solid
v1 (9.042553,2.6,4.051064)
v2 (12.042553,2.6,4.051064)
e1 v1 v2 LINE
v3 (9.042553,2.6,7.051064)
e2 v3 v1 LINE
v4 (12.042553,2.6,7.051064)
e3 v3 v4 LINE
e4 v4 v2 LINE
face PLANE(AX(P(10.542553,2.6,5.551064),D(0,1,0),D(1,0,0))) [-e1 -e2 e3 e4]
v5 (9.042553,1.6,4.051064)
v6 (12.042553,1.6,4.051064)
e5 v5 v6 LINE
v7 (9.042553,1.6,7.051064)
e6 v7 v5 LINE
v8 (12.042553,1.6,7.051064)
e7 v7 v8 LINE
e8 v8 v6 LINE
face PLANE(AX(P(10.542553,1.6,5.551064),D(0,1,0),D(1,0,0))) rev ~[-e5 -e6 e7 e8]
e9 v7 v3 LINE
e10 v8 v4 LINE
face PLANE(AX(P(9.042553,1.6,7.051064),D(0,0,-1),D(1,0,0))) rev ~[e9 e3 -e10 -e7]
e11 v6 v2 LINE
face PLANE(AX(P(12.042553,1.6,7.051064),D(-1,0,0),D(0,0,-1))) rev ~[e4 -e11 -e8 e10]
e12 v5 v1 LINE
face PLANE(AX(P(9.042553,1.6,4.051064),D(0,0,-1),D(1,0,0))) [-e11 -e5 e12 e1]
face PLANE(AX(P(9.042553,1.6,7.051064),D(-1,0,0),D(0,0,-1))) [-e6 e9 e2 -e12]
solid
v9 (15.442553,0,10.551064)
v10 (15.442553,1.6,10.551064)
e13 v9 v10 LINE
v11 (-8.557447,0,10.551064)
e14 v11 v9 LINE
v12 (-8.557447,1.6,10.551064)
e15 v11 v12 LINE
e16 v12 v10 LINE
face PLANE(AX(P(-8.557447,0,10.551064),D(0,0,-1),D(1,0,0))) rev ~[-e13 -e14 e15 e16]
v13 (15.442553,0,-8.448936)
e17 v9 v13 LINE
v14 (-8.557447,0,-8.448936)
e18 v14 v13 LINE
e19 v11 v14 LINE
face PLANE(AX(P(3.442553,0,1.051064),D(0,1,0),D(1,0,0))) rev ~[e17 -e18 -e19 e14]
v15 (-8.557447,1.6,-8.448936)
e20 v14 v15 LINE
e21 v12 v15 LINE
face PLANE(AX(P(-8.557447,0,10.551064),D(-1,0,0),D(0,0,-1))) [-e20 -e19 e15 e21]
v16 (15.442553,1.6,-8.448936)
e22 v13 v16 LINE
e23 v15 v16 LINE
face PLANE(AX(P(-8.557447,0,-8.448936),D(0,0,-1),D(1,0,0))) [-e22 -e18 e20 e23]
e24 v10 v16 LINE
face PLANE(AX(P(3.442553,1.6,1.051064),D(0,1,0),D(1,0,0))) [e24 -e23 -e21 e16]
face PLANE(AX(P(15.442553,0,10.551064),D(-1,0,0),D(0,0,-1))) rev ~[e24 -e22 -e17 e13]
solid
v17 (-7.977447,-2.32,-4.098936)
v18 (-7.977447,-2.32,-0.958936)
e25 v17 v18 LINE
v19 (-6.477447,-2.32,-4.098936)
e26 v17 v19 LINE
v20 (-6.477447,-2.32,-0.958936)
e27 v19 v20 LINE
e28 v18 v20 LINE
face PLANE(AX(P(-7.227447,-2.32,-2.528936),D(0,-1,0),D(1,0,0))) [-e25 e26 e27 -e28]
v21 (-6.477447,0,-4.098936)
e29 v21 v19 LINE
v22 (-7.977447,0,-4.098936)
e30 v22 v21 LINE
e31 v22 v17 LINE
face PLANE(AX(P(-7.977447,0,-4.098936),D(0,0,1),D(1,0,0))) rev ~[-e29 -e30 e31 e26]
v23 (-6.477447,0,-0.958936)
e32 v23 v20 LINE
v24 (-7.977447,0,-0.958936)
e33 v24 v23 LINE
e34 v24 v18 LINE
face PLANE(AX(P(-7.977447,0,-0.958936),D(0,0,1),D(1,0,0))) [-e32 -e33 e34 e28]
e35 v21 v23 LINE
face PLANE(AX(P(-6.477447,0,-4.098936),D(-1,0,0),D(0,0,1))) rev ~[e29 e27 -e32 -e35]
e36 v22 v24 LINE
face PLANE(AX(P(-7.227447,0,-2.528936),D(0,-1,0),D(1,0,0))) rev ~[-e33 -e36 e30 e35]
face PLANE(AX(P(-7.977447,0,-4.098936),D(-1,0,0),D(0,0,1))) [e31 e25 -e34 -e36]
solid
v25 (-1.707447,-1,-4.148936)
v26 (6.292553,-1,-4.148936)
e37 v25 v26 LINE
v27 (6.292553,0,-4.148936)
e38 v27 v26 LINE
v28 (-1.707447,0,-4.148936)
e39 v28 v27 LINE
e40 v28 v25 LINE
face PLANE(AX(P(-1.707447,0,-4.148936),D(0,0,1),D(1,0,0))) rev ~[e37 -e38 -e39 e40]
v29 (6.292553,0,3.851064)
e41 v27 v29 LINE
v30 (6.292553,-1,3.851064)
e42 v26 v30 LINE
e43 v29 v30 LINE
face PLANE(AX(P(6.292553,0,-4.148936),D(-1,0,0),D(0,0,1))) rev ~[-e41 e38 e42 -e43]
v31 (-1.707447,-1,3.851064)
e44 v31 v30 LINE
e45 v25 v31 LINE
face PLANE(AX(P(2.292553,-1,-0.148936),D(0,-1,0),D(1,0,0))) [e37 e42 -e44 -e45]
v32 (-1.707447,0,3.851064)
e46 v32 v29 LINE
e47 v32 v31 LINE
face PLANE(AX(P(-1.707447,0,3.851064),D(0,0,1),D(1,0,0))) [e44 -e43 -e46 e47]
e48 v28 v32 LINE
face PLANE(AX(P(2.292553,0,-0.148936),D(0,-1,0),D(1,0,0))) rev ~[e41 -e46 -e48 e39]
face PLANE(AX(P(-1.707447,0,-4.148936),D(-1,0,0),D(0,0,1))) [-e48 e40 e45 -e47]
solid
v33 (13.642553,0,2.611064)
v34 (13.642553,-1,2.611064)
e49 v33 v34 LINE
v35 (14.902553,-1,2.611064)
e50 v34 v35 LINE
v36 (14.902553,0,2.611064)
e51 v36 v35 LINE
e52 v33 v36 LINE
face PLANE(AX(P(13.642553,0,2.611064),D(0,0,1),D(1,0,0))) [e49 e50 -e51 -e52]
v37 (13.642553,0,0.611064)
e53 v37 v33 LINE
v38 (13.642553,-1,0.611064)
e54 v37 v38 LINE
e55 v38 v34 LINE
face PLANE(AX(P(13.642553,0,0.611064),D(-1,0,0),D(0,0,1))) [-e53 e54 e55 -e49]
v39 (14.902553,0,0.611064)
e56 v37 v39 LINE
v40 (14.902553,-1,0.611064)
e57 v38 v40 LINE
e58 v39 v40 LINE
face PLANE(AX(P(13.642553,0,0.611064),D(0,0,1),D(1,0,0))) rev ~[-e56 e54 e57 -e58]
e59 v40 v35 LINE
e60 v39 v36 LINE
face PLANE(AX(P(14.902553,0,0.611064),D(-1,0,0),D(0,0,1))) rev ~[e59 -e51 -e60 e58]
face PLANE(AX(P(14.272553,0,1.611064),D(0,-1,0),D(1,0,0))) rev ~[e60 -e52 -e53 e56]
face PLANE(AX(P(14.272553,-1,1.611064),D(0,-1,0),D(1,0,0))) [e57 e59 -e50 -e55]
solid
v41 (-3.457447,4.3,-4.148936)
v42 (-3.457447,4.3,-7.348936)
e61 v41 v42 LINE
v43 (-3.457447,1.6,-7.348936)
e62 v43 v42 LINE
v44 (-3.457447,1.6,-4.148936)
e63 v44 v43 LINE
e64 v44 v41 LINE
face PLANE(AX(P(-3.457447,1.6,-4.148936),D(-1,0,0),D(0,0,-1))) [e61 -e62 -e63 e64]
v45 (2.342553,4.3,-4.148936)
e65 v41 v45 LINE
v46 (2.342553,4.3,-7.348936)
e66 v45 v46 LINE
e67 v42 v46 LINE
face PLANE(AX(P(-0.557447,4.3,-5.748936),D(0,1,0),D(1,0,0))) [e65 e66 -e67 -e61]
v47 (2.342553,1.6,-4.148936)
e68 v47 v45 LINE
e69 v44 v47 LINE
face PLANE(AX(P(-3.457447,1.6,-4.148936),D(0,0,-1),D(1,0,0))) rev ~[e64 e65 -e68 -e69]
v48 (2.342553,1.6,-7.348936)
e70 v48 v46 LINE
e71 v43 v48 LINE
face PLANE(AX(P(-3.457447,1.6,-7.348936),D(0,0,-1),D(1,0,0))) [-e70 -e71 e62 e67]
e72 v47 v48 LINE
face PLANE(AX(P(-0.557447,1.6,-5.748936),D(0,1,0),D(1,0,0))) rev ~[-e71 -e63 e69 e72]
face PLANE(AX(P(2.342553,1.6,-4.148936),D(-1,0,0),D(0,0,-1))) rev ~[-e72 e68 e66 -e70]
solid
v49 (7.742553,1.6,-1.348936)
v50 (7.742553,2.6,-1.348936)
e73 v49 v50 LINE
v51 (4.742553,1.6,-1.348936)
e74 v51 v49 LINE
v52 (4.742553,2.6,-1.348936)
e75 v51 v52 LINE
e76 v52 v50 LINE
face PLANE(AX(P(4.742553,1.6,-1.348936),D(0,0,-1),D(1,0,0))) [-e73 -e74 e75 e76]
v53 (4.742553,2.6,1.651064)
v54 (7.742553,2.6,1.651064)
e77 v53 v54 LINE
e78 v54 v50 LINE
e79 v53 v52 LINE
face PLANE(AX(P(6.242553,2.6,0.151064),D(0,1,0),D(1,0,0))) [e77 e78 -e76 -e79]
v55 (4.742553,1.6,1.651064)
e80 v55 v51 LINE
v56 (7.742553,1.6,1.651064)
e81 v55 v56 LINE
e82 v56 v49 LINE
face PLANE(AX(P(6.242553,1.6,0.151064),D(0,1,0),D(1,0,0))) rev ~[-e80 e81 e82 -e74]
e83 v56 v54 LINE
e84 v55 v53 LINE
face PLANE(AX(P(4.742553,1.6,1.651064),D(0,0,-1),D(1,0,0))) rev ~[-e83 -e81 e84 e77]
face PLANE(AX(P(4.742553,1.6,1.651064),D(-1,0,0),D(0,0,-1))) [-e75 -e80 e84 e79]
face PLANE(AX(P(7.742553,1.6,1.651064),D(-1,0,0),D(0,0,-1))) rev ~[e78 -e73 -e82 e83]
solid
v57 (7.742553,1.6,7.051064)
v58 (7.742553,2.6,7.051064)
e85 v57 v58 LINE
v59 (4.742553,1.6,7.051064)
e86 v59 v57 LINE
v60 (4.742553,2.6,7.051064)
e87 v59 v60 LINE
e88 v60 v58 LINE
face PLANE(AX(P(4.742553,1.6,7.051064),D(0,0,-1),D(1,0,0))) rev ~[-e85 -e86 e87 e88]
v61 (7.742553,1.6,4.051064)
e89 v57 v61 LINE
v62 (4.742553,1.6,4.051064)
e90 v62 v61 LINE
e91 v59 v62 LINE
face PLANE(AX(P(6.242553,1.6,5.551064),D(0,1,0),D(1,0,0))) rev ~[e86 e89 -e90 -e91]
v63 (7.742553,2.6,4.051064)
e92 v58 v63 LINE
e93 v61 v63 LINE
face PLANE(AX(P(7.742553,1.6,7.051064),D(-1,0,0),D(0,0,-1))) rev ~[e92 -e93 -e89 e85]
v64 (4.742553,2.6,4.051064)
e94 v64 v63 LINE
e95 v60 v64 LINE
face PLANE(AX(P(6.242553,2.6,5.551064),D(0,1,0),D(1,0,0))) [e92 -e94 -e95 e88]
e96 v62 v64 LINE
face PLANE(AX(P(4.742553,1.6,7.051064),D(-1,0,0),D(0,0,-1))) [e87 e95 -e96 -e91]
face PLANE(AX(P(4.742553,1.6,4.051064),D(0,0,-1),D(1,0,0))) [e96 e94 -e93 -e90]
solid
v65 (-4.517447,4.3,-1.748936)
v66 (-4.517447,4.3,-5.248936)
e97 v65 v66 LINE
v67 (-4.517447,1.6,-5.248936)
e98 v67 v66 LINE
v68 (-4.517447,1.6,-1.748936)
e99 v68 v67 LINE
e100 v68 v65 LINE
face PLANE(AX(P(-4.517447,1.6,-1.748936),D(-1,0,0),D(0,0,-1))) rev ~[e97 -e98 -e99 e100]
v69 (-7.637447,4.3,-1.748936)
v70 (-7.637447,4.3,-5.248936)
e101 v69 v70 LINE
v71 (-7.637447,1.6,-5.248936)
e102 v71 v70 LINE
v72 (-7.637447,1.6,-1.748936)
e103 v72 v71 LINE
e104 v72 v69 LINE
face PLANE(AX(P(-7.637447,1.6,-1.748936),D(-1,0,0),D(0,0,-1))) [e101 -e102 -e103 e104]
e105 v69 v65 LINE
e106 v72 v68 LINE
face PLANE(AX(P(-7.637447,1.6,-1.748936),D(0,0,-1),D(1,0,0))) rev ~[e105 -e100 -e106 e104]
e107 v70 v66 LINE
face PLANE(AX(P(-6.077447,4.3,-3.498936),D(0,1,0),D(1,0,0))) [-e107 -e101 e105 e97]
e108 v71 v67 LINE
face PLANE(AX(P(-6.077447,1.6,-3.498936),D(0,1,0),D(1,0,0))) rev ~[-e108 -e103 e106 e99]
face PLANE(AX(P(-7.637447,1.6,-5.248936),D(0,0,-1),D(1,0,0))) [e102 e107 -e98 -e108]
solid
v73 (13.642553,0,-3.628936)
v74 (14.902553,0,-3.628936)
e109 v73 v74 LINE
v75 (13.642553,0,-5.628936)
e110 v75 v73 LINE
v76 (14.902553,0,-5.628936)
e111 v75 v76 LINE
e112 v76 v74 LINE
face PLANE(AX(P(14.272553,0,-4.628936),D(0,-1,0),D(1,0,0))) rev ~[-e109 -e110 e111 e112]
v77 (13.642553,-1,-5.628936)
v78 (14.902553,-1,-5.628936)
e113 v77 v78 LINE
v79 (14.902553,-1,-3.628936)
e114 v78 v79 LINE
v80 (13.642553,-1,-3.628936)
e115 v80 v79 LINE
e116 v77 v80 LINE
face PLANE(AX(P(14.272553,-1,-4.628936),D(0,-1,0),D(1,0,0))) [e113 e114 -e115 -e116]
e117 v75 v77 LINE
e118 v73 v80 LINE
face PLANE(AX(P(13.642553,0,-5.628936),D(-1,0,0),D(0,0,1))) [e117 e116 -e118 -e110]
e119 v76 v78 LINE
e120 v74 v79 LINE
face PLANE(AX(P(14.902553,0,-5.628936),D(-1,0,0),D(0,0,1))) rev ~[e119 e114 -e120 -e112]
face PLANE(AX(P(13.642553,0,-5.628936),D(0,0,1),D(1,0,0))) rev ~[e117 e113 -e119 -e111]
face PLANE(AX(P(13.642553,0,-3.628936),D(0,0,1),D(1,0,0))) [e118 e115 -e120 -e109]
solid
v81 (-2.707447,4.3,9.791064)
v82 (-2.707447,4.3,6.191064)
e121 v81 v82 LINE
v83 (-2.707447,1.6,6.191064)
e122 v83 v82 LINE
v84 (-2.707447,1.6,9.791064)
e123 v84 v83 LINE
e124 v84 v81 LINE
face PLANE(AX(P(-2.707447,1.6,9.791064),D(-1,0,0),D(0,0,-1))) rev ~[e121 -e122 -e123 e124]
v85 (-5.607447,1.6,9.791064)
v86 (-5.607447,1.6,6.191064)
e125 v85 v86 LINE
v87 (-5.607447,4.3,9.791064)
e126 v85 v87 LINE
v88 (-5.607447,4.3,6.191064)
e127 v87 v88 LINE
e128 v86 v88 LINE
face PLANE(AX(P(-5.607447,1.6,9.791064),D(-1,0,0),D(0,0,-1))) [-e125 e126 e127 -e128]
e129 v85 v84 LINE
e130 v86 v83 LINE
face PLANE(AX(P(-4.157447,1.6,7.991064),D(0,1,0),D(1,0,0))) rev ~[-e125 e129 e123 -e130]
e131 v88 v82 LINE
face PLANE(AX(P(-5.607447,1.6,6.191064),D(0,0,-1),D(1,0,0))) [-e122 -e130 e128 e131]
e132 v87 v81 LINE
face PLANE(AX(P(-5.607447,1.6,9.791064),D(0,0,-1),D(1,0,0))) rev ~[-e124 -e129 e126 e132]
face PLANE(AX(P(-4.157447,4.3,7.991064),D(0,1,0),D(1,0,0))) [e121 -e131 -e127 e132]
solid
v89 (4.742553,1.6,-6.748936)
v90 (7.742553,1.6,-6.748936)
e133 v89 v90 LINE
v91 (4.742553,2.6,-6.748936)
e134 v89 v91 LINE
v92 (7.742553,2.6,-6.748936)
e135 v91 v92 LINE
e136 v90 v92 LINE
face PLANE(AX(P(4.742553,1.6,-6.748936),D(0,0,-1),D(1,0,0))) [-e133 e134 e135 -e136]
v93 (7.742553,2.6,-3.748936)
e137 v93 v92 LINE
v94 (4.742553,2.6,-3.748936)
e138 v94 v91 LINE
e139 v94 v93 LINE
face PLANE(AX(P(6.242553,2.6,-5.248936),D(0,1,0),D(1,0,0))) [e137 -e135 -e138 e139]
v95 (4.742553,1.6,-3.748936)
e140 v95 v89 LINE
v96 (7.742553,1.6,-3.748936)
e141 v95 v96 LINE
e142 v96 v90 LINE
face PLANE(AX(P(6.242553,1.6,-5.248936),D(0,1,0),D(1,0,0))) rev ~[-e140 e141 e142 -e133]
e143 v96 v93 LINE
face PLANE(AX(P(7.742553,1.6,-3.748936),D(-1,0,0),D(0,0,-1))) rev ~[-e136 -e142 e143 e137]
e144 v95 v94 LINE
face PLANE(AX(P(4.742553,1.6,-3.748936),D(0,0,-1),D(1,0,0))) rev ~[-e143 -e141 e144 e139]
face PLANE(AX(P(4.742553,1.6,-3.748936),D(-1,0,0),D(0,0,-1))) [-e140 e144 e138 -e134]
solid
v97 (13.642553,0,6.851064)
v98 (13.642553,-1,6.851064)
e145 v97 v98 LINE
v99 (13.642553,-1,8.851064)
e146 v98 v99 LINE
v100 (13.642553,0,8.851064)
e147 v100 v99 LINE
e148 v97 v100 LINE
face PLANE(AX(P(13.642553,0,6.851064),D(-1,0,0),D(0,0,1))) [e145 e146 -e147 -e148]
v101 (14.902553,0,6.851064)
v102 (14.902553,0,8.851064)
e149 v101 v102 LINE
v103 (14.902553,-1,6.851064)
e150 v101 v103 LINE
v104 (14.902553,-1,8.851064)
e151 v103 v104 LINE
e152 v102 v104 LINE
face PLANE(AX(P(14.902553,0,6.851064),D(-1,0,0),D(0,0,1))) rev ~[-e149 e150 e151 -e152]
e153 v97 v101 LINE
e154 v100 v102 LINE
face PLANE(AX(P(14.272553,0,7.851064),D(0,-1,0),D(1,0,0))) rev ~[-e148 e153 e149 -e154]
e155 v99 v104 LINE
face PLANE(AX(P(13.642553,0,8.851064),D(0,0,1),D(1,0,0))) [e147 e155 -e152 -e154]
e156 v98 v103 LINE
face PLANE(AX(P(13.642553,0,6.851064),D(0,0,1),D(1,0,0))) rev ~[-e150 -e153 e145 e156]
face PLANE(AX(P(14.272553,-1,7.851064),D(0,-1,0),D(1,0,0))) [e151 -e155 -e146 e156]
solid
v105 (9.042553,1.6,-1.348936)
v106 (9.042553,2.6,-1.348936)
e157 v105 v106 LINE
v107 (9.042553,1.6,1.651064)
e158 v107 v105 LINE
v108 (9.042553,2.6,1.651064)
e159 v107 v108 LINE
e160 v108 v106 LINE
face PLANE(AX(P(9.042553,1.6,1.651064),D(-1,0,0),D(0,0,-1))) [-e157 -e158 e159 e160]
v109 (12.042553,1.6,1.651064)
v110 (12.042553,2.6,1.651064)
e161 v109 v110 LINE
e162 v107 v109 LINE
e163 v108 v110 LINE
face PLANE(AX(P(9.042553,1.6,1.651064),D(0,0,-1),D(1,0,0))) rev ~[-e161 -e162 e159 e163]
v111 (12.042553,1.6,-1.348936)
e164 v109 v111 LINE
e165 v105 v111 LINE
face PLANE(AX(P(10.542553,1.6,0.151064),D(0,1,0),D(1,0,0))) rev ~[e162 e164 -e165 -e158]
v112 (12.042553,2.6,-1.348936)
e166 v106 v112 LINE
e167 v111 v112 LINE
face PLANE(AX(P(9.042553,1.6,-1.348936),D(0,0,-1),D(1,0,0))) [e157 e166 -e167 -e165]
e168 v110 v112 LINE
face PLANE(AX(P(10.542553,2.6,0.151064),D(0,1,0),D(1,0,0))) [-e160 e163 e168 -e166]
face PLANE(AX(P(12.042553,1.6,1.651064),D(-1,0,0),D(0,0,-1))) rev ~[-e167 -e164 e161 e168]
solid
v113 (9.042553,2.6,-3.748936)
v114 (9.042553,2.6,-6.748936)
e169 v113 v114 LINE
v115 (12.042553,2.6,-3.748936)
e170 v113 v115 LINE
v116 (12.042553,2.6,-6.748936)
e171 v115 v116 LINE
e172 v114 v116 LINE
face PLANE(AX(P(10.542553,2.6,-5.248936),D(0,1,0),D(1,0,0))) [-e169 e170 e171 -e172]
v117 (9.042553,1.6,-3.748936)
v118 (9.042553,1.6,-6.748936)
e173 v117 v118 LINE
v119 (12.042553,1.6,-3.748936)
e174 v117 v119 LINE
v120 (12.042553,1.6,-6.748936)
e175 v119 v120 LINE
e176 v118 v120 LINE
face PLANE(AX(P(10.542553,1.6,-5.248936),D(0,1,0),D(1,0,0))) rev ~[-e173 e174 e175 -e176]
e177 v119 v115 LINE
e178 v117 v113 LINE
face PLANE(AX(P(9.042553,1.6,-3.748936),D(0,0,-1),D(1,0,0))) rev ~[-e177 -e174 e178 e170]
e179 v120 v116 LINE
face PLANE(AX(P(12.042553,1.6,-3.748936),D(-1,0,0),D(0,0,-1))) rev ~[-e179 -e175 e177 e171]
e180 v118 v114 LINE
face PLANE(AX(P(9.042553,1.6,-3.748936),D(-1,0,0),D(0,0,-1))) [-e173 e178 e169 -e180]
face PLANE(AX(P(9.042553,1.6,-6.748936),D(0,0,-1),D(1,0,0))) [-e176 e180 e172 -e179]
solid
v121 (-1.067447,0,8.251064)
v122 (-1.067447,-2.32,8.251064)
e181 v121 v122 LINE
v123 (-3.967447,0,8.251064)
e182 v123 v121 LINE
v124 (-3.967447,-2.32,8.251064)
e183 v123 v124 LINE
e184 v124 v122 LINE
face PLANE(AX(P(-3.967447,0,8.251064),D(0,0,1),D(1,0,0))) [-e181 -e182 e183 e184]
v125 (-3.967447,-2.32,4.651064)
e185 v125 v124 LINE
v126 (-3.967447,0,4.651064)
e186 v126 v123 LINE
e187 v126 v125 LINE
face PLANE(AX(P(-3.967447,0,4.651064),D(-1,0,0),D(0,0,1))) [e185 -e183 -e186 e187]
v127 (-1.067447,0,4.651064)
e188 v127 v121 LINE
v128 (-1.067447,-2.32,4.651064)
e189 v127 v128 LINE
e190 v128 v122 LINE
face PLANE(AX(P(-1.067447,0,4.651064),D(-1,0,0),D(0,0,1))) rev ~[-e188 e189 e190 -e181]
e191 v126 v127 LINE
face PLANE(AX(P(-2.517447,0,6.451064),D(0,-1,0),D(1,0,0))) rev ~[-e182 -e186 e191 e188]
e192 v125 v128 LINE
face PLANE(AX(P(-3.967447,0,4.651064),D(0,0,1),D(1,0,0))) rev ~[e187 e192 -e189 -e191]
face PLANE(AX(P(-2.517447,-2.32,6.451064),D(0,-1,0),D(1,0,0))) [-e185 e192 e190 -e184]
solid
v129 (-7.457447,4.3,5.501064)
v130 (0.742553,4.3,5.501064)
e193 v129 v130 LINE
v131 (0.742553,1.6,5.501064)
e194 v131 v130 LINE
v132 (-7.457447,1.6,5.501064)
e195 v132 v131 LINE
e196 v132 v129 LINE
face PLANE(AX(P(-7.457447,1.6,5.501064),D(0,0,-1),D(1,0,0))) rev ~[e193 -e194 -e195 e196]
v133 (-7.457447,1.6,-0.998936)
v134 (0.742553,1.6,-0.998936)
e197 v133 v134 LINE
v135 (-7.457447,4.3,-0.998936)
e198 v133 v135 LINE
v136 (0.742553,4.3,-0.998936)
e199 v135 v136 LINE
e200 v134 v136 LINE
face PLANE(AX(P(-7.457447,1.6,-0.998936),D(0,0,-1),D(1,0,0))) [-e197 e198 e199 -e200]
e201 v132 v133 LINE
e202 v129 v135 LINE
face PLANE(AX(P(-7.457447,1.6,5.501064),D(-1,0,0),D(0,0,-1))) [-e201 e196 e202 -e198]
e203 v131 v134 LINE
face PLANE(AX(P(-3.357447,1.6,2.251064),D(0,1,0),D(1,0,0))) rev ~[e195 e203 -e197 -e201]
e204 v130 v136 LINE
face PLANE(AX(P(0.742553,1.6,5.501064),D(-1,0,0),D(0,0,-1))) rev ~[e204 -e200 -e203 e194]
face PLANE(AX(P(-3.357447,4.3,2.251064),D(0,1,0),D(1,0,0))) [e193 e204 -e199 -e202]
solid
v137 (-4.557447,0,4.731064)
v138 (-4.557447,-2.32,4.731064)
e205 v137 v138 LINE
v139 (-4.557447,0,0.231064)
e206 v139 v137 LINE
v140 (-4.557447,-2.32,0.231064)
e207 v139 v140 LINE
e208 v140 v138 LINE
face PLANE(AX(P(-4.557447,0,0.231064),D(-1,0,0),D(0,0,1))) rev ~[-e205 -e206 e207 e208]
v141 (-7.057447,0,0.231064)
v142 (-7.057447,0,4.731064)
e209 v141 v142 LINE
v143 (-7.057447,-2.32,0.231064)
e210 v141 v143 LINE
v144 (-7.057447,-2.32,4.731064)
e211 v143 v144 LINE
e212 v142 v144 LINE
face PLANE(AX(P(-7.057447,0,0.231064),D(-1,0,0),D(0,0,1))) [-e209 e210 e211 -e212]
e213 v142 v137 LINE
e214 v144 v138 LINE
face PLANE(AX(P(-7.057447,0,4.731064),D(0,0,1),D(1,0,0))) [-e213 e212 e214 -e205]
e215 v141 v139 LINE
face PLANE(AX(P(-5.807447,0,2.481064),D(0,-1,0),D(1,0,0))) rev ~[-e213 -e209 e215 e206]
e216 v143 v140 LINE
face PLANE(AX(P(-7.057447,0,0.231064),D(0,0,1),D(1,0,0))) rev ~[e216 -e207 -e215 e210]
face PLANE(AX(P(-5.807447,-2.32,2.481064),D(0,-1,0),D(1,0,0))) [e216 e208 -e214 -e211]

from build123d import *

# Parameters (mm, degrees)
SKETCH1_W             = 24
SKETCH1_H             = 19
BOSS_EXTRUDE1_DEPTH   = 1.6
SKETCH2_W             = 8.2
SKETCH2_H             = 6.5
BOSS_EXTRUDE2_DEPTH   = 2.7
SKETCH2_W_2           = 2.9
SKETCH2_H_2           = 3.6
BOSS_EXTRUDE2_2_DEPTH = 2.7
SKETCH2_W_3           = 5.8
SKETCH2_H_3           = 3.2
BOSS_EXTRUDE2_3_DEPTH = 2.7
SKETCH2_W_4           = 3.12
SKETCH2_H_4           = 3.5
BOSS_EXTRUDE2_4_DEPTH = 2.7
SKETCH3_W             = 3
SKETCH3_H             = 3
BOSS_EXTRUDE3_DEPTH   = 1
BOSS_EXTRUDE3_2_DEPTH = 1
BOSS_EXTRUDE3_3_DEPTH = 1
BOSS_EXTRUDE3_4_DEPTH = 1
BOSS_EXTRUDE3_5_DEPTH = 1
BOSS_EXTRUDE3_6_DEPTH = 1
SKETCH4_W             = 2.9
SKETCH4_H             = 3.6
BOSS_EXTRUDE4_DEPTH   = 2.32
SKETCH4_W_2           = 2.5
SKETCH4_H_2           = 4.5
BOSS_EXTRUDE4_2_DEPTH = 2.32
SKETCH4_W_3           = 1.5
SKETCH4_H_3           = 3.14
BOSS_EXTRUDE4_3_DEPTH = 2.32
SKETCH5_W             = 8
SKETCH5_H             = 8
BOSS_EXTRUDE5_DEPTH   = 1
SKETCH5_W_2           = 1.26
SKETCH5_H_2           = 2
BOSS_EXTRUDE5_2_DEPTH = 1
BOSS_EXTRUDE5_3_DEPTH = 1
BOSS_EXTRUDE5_4_DEPTH = 1


with BuildPart() as part:
    # Sketch1 → Boss-Extrude1 (new body)
    with BuildSketch(Plane(origin=(0, 0, 0), x_dir=(1, 0, 0), z_dir=(0, 1, 0))):
        with Locations((3.442553191, -1.05106383)):
            Rectangle(SKETCH1_W, SKETCH1_H)
    extrude(amount=BOSS_EXTRUDE1_DEPTH)


with BuildPart() as body_2:
    # Sketch2 → Boss-Extrude2 (new body)
    with BuildSketch(Plane(origin=(0, 1.6, 0), x_dir=(1, 0, 0), z_dir=(0, 1, 0))):
        with Locations((-3.357446809, -2.25106383)):
            Rectangle(SKETCH2_W, SKETCH2_H)
    extrude(amount=BOSS_EXTRUDE2_DEPTH)


with BuildPart() as body_3:
    # Sketch2 → Boss-Extrude2 2 (new body)
    with BuildSketch(Plane(origin=(0, 1.6, 0), x_dir=(1, 0, 0), z_dir=(0, 1, 0))):
        with Locations((-4.157446809, -7.99106383)):
            Rectangle(SKETCH2_W_2, SKETCH2_H_2)
    extrude(amount=BOSS_EXTRUDE2_2_DEPTH)


with BuildPart() as body_4:
    # Sketch2 → Boss-Extrude2 3 (new body)
    with BuildSketch(Plane(origin=(0, 1.6, 0), x_dir=(1, 0, 0), z_dir=(0, 1, 0))):
        with Locations((-0.557446809, 5.74893617)):
            Rectangle(SKETCH2_W_3, SKETCH2_H_3)
    extrude(amount=BOSS_EXTRUDE2_3_DEPTH)


with BuildPart() as body_5:
    # Sketch2 → Boss-Extrude2 4 (new body)
    with BuildSketch(Plane(origin=(0, 1.6, 0), x_dir=(1, 0, 0), z_dir=(0, 1, 0))):
        with Locations((-6.077446809, 3.49893617)):
            Rectangle(SKETCH2_W_4, SKETCH2_H_4)
    extrude(amount=BOSS_EXTRUDE2_4_DEPTH)


with BuildPart() as body_6:
    # Sketch3 → Boss-Extrude3 (new body)
    with BuildSketch(Plane(origin=(0, 1.6, 0), x_dir=(1, 0, 0), z_dir=(0, 1, 0))):
        with Locations((6.242553191, 5.24893617)):
            Rectangle(SKETCH3_W, SKETCH3_H)
    extrude(amount=BOSS_EXTRUDE3_DEPTH)


with BuildPart() as body_7:
    # Sketch3 → Boss-Extrude3 2 (new body)
    with BuildSketch(Plane(origin=(0, 1.6, 0), x_dir=(1, 0, 0), z_dir=(0, 1, 0))):
        with Locations((10.542553191, 5.24893617)):
            Rectangle(SKETCH3_W, SKETCH3_H)
    extrude(amount=BOSS_EXTRUDE3_2_DEPTH)


with BuildPart() as body_8:
    # Sketch3 → Boss-Extrude3 3 (new body)
    with BuildSketch(Plane(origin=(0, 1.6, 0), x_dir=(1, 0, 0), z_dir=(0, 1, 0))):
        with Locations((6.242553191, -0.15106383)):
            Rectangle(SKETCH3_W, SKETCH3_H)
    extrude(amount=BOSS_EXTRUDE3_3_DEPTH)


with BuildPart() as body_9:
    # Sketch3 → Boss-Extrude3 4 (new body)
    with BuildSketch(Plane(origin=(0, 1.6, 0), x_dir=(1, 0, 0), z_dir=(0, 1, 0))):
        with Locations((10.542553191, -0.15106383)):
            Rectangle(SKETCH3_W, SKETCH3_H)
    extrude(amount=BOSS_EXTRUDE3_4_DEPTH)


with BuildPart() as body_10:
    # Sketch3 → Boss-Extrude3 5 (new body)
    with BuildSketch(Plane(origin=(0, 1.6, 0), x_dir=(1, 0, 0), z_dir=(0, 1, 0))):
        with Locations((6.242553191, -5.55106383)):
            Rectangle(SKETCH3_W, SKETCH3_H)
    extrude(amount=BOSS_EXTRUDE3_5_DEPTH)


with BuildPart() as body_11:
    # Sketch3 → Boss-Extrude3 6 (new body)
    with BuildSketch(Plane(origin=(0, 1.6, 0), x_dir=(1, 0, 0), z_dir=(0, 1, 0))):
        with Locations((10.542553191, -5.55106383)):
            Rectangle(SKETCH3_W, SKETCH3_H)
    extrude(amount=BOSS_EXTRUDE3_6_DEPTH)


with BuildPart() as body_12:
    # Sketch4 → Boss-Extrude4 (new body)
    with BuildSketch(Plane.XZ):
        with Locations((-2.517446809, 6.45106383)):
            Rectangle(SKETCH4_W, SKETCH4_H)
    extrude(amount=BOSS_EXTRUDE4_DEPTH)


with BuildPart() as body_13:
    # Sketch4 → Boss-Extrude4 2 (new body)
    with BuildSketch(Plane.XZ):
        with Locations((-5.807446809, 2.48106383)):
            Rectangle(SKETCH4_W_2, SKETCH4_H_2)
    extrude(amount=BOSS_EXTRUDE4_2_DEPTH)


with BuildPart() as body_14:
    # Sketch4 → Boss-Extrude4 3 (new body)
    with BuildSketch(Plane.XZ):
        with Locations((-7.227446809, -2.52893617)):
            Rectangle(SKETCH4_W_3, SKETCH4_H_3)
    extrude(amount=BOSS_EXTRUDE4_3_DEPTH)


with BuildPart() as body_15:
    # Sketch5 → Boss-Extrude5 (new body)
    with BuildSketch(Plane.XZ):
        with Locations((2.292553191, -0.14893617)):
            Rectangle(SKETCH5_W, SKETCH5_H)
    extrude(amount=BOSS_EXTRUDE5_DEPTH)


with BuildPart() as body_16:
    # Sketch5 → Boss-Extrude5 2 (new body)
    with BuildSketch(Plane.XZ):
        with Locations((14.272553191, 7.85106383)):
            Rectangle(SKETCH5_W_2, SKETCH5_H_2)
    extrude(amount=BOSS_EXTRUDE5_2_DEPTH)


with BuildPart() as body_17:
    # Sketch5 → Boss-Extrude5 3 (new body)
    with BuildSketch(Plane.XZ):
        with Locations((14.272553191, 1.61106383)):
            Rectangle(SKETCH5_W_2, SKETCH5_H_2)
    extrude(amount=BOSS_EXTRUDE5_3_DEPTH)


with BuildPart() as body_18:
    # Sketch5 → Boss-Extrude5 4 (new body)
    with BuildSketch(Plane.XZ):
        with Locations((14.272553191, -4.62893617)):
            Rectangle(SKETCH5_W_2, SKETCH5_H_2)
    extrude(amount=BOSS_EXTRUDE5_4_DEPTH)


solid = Compound([part.part, body_2.part, body_3.part, body_4.part, body_5.part, body_6.part, body_7.part, body_8.part, body_9.part, body_10.part, body_11.part, body_12.part, body_13.part, body_14.part, body_15.part, body_16.part, body_17.part, body_18.part])
